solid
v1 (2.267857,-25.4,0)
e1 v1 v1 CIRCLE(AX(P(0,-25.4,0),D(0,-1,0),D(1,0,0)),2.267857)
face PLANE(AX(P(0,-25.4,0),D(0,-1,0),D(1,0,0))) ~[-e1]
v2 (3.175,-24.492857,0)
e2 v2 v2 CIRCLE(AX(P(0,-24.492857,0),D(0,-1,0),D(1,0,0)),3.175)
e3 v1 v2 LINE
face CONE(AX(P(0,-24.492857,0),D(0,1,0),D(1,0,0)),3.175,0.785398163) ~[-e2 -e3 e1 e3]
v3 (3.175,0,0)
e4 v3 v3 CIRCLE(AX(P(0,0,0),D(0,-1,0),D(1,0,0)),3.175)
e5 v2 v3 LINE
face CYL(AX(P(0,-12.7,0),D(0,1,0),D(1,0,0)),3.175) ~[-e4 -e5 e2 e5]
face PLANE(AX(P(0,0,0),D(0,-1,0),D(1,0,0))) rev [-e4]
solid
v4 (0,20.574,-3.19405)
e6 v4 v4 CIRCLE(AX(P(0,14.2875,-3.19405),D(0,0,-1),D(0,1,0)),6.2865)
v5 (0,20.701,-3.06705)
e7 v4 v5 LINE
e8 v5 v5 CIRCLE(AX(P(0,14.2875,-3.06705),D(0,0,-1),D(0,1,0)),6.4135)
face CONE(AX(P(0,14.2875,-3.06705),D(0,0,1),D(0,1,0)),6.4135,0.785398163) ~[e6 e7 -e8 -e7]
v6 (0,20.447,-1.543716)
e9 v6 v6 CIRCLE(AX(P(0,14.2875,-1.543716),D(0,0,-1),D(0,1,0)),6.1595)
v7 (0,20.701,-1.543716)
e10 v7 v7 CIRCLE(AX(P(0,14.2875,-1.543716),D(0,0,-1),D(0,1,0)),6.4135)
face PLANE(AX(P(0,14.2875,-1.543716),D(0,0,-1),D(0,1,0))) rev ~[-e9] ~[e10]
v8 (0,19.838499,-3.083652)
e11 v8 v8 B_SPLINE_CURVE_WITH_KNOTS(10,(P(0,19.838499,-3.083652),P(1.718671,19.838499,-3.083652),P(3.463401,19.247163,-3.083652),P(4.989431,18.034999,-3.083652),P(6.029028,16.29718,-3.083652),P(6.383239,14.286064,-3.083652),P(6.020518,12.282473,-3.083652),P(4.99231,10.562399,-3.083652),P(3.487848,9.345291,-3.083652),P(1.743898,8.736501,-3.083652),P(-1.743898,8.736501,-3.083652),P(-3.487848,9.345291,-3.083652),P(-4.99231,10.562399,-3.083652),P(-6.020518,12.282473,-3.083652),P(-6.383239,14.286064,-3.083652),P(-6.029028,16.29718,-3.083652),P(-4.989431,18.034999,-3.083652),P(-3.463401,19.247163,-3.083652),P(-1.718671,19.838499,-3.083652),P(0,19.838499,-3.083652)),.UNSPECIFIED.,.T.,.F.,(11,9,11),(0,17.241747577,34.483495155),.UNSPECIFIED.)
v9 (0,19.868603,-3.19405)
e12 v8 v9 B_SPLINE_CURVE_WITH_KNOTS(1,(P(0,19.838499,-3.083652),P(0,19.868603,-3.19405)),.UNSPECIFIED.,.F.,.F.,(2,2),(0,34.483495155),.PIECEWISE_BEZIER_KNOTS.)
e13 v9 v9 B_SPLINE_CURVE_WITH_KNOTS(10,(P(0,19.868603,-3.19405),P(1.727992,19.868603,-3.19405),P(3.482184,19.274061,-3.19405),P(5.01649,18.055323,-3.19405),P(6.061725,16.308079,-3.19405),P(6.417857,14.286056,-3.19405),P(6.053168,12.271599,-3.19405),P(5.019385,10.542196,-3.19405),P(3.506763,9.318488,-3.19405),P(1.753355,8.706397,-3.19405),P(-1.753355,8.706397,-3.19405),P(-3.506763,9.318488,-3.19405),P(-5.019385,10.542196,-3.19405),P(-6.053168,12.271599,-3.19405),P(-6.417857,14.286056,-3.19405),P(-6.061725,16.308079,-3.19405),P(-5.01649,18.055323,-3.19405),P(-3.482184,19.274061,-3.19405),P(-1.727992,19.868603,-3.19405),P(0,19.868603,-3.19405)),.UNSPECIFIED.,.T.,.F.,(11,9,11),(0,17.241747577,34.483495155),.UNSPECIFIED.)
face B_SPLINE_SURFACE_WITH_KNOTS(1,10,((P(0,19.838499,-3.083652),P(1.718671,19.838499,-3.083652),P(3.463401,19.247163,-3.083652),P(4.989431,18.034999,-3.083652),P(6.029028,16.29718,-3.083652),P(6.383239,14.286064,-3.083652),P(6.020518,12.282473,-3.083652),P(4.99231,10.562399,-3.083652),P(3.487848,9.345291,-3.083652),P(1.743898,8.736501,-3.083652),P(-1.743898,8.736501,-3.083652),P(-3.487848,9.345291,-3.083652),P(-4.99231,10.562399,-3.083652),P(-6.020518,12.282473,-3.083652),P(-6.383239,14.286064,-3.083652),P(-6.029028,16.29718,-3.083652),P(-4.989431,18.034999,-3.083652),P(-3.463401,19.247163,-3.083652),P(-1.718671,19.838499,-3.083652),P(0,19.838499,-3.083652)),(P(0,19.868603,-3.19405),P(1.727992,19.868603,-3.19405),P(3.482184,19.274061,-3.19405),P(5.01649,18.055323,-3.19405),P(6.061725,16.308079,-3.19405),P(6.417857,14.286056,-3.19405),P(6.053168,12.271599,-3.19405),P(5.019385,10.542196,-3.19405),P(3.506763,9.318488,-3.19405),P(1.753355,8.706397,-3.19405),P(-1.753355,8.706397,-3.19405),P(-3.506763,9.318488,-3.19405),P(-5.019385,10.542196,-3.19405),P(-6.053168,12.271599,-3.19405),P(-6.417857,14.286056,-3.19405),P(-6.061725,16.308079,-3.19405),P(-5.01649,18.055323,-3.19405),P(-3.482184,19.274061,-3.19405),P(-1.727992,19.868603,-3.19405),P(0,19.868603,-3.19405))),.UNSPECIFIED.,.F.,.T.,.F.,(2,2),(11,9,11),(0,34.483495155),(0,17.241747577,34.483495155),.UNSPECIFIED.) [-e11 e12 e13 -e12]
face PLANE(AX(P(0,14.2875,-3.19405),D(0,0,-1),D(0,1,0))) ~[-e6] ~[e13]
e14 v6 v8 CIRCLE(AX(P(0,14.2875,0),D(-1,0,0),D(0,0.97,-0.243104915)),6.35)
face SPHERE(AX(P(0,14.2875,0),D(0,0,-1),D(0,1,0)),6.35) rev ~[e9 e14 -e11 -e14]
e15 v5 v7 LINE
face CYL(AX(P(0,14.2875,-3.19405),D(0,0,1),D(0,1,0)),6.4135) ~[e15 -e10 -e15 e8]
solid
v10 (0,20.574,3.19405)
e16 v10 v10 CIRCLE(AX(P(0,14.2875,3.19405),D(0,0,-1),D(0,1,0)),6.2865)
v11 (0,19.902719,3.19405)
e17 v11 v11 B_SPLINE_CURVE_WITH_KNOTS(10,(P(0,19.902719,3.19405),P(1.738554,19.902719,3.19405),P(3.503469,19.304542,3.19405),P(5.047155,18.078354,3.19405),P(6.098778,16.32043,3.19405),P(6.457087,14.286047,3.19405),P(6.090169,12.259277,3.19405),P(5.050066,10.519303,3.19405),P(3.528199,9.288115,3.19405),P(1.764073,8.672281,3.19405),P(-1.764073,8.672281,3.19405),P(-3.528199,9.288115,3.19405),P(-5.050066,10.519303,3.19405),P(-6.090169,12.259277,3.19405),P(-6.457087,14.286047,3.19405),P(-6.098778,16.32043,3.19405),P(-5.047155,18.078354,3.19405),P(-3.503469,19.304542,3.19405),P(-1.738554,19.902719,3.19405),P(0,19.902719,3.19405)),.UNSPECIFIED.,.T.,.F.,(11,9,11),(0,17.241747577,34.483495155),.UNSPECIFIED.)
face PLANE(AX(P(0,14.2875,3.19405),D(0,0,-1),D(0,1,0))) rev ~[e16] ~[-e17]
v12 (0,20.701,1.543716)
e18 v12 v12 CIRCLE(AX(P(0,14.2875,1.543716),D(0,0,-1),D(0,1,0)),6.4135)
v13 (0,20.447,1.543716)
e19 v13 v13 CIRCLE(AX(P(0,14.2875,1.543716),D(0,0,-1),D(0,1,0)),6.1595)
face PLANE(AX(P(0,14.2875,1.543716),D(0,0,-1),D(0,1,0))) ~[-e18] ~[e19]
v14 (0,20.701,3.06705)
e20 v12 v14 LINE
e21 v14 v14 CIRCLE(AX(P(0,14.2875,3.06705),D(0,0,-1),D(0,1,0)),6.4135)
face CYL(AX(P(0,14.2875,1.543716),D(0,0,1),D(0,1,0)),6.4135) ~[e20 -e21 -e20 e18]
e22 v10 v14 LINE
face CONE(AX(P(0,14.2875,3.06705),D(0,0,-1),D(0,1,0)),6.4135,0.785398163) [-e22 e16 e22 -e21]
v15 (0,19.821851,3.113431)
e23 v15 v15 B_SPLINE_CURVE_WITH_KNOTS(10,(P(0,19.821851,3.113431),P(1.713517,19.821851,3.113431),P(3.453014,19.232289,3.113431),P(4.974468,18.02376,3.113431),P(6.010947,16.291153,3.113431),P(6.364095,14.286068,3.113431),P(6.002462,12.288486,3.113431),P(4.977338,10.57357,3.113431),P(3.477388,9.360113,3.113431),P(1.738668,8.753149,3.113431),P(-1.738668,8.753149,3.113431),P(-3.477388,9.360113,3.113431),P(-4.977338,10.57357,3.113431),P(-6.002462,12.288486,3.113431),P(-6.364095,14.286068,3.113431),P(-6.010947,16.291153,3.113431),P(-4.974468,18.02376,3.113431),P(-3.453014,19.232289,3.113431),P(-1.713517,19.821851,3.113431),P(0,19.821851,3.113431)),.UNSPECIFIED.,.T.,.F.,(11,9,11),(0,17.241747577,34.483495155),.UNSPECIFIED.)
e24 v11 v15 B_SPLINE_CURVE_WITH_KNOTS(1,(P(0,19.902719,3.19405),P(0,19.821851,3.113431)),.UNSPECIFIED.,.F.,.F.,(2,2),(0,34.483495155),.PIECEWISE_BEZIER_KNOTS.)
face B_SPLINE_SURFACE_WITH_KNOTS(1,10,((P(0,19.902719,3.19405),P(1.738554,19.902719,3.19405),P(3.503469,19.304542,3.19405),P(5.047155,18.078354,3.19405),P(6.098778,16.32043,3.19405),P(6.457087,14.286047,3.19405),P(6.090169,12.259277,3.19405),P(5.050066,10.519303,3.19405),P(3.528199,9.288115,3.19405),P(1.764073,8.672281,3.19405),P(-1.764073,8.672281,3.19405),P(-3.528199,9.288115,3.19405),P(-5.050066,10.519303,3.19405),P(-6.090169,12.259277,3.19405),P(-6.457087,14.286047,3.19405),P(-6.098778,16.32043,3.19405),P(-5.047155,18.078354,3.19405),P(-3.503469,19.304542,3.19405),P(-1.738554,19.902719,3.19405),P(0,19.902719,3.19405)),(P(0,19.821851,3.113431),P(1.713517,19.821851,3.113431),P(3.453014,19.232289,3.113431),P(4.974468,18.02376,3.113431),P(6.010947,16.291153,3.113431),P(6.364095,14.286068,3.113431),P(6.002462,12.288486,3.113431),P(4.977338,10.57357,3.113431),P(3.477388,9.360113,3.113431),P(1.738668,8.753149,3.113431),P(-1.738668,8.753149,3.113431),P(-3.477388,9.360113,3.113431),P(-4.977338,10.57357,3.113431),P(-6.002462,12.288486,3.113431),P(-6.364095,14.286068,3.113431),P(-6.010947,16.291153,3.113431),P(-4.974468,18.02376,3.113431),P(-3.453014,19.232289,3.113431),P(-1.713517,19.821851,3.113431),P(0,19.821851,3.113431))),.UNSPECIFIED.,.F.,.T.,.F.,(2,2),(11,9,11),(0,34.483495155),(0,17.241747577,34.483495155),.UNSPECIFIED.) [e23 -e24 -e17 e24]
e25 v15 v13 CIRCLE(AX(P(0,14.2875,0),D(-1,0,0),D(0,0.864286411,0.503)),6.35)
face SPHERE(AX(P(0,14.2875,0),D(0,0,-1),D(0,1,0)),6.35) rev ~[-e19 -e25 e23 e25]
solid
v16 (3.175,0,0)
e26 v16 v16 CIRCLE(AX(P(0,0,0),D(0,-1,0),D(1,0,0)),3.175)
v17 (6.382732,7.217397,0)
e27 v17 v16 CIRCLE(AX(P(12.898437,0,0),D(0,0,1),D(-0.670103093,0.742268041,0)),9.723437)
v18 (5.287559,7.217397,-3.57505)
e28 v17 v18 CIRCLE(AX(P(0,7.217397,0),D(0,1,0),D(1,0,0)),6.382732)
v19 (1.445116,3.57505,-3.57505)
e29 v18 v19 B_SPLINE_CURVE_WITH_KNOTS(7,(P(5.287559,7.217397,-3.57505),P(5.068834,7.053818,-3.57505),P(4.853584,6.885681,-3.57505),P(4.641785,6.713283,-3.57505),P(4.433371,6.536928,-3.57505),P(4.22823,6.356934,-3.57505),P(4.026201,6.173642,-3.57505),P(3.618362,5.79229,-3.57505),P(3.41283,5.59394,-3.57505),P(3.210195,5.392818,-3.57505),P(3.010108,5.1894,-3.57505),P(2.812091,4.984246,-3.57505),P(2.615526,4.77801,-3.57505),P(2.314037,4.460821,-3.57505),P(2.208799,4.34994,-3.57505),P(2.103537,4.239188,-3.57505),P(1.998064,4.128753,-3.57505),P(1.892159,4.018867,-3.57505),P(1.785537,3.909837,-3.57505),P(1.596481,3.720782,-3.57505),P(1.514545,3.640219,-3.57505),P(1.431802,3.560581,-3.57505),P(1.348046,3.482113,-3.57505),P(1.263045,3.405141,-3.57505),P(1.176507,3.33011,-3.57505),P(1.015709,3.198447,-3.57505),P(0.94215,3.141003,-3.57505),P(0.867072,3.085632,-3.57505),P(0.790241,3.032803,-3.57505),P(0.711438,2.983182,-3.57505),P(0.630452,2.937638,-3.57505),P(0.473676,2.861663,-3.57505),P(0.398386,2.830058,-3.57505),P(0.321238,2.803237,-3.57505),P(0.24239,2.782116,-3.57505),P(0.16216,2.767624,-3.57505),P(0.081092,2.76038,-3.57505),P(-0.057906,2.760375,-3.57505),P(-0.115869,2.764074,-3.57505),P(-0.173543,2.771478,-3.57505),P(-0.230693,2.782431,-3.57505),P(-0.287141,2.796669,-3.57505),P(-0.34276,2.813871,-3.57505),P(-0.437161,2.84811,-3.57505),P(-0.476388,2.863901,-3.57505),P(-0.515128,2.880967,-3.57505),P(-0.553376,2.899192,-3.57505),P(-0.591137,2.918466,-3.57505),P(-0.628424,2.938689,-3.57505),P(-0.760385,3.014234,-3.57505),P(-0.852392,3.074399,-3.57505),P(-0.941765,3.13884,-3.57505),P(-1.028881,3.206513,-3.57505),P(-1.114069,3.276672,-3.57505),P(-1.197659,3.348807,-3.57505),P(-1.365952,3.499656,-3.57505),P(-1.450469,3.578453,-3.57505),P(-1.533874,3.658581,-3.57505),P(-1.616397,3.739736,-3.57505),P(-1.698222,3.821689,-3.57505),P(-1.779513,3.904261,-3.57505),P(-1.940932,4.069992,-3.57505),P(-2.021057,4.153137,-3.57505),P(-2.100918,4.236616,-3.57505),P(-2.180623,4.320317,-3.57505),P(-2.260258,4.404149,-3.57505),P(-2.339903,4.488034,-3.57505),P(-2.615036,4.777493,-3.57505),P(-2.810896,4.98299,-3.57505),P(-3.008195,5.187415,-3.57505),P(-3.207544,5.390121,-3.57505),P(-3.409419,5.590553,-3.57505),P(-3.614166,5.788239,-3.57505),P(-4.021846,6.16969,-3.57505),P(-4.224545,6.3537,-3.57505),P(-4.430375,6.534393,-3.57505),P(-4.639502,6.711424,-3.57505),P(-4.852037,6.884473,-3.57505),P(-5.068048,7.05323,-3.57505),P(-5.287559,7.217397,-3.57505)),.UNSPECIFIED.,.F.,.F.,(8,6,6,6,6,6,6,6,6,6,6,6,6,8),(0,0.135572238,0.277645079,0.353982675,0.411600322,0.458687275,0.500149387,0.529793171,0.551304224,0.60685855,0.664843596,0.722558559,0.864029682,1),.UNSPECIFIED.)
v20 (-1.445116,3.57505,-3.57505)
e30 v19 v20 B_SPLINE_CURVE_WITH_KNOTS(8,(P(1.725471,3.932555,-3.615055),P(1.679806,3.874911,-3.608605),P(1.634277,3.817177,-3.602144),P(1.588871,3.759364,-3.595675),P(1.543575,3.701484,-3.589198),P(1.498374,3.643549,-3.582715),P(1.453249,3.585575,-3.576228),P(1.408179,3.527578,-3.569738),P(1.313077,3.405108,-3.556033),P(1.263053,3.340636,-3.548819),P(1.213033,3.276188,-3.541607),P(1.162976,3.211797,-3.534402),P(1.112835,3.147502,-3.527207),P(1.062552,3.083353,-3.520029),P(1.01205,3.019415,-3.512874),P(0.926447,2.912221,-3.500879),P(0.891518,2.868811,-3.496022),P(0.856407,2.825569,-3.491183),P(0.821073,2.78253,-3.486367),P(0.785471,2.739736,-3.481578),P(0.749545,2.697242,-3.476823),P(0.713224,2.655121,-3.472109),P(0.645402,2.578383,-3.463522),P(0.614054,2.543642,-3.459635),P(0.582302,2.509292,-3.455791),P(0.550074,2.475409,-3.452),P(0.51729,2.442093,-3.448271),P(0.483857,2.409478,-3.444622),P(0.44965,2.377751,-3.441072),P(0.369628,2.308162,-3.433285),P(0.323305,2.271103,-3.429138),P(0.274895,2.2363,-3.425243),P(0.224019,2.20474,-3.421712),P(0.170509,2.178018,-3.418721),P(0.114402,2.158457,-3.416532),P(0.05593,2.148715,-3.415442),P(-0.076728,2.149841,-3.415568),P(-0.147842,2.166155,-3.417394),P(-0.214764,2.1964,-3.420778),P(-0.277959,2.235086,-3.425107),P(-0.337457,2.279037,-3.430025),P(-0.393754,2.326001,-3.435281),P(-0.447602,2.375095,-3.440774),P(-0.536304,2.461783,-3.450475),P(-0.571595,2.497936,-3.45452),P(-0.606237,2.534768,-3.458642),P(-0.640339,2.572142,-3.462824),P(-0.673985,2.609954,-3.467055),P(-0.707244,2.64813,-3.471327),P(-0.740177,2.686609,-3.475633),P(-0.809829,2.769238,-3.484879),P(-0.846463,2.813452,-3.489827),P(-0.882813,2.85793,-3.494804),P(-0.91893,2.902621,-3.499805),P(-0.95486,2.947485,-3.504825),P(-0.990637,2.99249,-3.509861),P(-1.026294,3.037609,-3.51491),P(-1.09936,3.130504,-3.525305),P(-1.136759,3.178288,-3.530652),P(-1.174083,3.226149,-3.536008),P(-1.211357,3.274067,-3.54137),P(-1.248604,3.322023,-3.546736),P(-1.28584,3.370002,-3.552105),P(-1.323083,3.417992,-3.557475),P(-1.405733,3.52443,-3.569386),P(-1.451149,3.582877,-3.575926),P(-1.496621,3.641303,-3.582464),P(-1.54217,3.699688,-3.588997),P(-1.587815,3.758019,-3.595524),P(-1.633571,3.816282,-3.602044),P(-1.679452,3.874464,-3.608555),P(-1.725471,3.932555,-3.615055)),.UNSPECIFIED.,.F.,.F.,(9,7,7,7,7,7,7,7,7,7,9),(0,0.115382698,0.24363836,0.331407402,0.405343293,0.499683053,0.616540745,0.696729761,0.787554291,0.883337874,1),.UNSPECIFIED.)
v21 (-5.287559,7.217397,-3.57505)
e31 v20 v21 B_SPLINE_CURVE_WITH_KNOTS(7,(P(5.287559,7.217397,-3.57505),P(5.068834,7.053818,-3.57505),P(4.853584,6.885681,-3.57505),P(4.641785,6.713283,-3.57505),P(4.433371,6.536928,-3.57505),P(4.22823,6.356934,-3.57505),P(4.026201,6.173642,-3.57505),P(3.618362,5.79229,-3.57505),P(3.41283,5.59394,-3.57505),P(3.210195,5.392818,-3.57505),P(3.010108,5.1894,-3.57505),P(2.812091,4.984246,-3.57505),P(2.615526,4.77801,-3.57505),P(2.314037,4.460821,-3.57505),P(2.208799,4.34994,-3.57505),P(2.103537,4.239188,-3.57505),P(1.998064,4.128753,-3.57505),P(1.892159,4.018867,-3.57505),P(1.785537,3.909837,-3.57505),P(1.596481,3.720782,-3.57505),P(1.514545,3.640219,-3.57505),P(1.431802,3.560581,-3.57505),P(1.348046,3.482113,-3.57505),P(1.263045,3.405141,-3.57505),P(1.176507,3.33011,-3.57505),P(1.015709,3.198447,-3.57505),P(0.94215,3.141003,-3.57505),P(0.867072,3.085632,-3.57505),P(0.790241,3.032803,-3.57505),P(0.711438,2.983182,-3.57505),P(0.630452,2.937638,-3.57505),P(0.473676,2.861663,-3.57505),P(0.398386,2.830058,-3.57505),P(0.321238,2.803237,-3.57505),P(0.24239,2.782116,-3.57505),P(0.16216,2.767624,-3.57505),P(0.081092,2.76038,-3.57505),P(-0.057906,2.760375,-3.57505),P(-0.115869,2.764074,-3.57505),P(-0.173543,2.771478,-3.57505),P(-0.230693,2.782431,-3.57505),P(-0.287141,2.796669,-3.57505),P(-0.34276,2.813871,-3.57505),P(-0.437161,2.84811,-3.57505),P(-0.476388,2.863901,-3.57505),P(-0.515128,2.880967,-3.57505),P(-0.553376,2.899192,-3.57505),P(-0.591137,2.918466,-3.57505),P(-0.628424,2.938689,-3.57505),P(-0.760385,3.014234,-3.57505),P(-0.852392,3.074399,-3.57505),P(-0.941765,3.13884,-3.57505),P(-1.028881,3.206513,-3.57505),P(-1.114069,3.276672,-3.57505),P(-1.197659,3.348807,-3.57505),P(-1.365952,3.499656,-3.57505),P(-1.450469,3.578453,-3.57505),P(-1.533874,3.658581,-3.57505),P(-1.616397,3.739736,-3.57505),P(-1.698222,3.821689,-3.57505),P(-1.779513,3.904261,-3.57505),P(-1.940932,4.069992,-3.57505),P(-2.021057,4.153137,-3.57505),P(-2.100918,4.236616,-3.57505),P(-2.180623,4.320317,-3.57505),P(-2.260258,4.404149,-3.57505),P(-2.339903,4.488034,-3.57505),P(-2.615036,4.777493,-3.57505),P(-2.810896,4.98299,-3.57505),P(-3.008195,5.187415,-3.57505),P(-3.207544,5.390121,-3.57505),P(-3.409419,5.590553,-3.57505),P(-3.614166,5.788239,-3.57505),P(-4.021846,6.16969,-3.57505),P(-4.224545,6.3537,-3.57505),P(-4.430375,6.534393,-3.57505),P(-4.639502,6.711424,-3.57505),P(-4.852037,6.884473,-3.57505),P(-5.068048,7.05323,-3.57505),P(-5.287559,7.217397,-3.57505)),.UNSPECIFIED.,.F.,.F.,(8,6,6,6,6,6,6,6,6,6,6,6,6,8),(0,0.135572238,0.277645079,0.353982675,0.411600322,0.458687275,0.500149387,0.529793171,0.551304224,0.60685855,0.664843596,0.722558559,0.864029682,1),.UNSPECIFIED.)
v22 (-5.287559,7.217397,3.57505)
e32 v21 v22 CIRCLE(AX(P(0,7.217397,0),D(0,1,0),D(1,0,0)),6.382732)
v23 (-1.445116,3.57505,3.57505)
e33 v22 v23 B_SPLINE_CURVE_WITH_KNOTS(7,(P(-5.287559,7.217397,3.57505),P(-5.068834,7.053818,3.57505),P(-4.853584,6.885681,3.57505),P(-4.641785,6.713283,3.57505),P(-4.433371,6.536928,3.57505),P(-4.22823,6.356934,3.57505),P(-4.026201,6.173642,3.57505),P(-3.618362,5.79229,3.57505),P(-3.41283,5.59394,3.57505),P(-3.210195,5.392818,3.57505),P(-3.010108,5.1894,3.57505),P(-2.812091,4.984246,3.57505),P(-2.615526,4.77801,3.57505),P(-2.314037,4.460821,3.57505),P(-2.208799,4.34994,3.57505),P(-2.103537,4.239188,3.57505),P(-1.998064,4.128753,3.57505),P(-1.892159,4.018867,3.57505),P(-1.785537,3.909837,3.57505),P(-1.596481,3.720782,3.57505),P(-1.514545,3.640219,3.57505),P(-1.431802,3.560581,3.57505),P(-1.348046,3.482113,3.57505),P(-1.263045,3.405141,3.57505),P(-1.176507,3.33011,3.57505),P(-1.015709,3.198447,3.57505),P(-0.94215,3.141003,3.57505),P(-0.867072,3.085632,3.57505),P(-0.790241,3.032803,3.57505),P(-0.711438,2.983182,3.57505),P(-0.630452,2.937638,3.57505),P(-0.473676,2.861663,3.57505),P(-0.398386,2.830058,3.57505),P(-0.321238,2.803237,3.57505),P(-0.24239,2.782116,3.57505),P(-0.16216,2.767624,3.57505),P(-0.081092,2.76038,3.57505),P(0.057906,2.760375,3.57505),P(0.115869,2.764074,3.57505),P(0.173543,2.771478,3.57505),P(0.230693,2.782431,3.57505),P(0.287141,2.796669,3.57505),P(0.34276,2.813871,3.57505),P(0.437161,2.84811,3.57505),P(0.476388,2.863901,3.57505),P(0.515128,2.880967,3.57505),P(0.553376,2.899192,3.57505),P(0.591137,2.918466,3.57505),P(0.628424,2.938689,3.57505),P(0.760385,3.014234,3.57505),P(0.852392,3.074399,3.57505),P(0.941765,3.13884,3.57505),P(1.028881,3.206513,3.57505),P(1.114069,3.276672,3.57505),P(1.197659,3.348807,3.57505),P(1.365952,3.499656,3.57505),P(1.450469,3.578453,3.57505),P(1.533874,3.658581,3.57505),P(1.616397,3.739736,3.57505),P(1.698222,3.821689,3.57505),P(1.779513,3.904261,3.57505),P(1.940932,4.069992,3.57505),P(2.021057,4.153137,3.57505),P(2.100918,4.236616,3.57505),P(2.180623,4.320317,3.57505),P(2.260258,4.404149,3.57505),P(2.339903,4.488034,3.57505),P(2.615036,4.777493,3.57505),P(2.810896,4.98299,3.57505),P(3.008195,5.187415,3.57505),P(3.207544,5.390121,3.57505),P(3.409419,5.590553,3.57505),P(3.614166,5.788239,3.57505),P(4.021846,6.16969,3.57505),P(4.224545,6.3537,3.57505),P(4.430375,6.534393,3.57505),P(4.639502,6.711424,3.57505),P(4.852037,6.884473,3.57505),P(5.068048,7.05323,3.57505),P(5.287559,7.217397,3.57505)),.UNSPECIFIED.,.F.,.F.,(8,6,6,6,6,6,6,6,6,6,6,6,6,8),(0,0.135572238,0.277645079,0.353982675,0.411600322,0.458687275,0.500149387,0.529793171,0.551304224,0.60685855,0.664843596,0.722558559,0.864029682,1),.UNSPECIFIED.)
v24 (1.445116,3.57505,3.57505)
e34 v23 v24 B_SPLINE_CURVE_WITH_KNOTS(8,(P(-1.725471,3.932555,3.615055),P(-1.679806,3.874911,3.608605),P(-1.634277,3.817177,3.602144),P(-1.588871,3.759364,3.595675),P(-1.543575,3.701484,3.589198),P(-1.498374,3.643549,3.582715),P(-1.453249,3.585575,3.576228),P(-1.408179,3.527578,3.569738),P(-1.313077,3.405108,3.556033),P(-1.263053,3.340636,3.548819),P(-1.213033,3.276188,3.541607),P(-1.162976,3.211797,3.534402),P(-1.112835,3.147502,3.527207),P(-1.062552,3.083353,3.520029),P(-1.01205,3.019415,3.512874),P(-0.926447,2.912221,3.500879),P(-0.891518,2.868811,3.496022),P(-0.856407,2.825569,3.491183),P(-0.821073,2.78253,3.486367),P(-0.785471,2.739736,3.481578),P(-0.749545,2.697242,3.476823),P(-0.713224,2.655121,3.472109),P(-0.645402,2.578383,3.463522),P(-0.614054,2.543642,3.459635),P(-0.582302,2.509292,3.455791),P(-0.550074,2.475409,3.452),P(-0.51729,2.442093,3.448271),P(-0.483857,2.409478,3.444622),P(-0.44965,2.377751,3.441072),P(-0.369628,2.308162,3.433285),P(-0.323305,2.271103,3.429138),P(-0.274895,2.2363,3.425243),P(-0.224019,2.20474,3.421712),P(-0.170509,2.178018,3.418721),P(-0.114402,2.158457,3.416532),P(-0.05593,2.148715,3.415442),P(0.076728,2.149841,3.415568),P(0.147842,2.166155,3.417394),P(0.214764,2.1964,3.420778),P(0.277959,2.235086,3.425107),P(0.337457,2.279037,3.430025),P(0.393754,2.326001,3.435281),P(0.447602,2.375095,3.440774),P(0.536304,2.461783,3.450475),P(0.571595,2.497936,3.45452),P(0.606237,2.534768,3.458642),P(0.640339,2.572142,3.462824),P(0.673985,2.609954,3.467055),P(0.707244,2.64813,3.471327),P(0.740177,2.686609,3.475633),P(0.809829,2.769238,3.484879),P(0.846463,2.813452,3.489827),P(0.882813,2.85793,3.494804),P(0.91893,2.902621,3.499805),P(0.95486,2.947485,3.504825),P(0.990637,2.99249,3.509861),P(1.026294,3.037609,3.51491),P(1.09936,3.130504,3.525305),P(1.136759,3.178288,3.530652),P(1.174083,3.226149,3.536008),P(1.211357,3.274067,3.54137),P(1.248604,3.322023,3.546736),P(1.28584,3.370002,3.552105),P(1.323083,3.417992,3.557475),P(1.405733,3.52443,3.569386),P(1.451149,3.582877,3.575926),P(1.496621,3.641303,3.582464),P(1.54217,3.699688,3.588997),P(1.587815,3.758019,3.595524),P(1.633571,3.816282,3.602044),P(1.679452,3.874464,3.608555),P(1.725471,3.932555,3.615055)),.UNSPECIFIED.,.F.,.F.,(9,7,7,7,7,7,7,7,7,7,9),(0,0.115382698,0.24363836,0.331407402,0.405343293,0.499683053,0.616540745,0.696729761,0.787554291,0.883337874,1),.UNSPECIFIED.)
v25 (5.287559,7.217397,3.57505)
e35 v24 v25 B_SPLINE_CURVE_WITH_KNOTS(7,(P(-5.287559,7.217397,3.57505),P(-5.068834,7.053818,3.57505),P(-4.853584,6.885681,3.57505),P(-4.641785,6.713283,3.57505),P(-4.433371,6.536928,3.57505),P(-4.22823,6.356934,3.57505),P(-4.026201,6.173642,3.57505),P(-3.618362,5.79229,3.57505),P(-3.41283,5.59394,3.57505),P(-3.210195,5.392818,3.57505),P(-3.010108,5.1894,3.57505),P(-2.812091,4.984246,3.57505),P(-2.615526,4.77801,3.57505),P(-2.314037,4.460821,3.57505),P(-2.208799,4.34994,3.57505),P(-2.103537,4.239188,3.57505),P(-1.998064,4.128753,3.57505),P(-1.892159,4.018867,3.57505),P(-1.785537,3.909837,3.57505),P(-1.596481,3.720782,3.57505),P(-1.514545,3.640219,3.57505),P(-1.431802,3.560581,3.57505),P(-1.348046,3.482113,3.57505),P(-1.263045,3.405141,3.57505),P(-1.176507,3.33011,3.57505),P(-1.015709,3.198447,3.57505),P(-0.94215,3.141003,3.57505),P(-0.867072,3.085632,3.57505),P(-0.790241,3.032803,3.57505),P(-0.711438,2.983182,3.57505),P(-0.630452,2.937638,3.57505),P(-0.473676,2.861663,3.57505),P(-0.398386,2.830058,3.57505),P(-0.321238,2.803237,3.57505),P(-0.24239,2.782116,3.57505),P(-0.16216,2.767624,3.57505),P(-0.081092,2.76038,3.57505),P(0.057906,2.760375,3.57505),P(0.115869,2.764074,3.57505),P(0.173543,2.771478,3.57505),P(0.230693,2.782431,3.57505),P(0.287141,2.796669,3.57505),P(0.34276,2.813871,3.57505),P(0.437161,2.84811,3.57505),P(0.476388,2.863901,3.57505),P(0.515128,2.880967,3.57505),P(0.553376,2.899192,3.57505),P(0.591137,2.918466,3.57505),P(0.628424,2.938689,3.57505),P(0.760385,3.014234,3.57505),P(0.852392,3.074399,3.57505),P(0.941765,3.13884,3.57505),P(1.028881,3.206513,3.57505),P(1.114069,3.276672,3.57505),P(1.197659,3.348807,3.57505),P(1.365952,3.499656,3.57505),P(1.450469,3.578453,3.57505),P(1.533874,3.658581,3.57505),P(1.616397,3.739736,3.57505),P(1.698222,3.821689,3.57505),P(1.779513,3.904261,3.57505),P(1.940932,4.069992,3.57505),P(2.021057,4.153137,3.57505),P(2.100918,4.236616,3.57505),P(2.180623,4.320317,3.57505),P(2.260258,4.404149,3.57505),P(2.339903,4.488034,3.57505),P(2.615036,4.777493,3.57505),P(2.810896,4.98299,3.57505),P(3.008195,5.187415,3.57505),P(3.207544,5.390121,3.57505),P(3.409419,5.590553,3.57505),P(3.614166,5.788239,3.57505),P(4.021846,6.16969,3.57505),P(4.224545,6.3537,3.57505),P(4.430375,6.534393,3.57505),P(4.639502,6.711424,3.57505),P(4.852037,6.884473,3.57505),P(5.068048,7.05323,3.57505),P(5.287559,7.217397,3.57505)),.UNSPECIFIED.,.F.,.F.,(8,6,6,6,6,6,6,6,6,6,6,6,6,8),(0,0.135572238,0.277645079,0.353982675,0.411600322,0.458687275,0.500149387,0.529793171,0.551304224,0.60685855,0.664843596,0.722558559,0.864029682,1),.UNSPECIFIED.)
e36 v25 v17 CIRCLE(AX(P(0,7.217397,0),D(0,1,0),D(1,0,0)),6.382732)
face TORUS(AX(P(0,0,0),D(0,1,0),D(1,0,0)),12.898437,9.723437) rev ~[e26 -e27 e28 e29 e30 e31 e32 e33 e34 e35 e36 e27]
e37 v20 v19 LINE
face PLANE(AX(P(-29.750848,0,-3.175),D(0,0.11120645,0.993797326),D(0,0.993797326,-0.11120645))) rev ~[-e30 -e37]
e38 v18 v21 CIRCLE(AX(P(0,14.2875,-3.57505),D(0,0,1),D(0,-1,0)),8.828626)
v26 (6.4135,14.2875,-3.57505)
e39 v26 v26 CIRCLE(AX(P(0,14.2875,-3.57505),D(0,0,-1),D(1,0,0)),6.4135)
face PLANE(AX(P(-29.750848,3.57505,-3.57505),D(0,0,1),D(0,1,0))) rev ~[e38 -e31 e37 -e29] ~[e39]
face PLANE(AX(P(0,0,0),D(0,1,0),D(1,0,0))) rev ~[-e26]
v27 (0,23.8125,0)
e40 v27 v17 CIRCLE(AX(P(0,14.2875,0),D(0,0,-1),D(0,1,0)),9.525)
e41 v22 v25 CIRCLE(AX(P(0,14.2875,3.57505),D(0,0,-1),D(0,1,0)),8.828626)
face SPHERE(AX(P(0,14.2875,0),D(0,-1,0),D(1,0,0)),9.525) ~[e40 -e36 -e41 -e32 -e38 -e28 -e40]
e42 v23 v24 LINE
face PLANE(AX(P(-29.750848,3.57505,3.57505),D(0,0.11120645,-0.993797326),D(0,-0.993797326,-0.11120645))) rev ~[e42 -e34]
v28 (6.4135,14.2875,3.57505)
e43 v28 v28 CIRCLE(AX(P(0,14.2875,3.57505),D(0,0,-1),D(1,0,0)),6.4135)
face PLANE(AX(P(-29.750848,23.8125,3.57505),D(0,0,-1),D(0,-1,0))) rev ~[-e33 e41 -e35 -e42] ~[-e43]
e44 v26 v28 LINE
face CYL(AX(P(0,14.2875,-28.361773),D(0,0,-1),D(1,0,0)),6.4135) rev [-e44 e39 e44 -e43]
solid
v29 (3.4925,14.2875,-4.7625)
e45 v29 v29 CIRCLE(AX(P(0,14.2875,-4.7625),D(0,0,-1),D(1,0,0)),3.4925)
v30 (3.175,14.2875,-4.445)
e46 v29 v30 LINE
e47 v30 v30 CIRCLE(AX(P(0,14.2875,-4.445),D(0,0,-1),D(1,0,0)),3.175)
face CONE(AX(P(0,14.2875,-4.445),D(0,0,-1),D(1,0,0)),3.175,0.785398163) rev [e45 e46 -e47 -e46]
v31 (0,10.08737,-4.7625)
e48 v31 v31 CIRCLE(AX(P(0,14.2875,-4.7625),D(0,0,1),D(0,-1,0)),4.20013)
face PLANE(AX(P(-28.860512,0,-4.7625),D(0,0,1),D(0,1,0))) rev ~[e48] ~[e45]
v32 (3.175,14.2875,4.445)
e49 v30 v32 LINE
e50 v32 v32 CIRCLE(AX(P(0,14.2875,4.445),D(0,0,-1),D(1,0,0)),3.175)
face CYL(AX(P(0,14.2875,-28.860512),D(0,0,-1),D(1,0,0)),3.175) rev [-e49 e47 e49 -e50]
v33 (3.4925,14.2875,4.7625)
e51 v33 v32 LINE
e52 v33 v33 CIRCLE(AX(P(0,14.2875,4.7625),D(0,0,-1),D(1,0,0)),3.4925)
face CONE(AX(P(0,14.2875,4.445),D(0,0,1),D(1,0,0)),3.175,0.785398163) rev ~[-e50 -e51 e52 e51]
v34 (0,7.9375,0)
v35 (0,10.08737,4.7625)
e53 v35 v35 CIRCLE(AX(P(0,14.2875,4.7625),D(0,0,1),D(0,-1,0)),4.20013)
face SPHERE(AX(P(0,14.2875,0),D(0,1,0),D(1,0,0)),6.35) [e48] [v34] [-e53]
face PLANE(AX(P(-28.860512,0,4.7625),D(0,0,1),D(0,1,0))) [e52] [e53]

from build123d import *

# Parameters (mm, degrees)
SKETCH1_W               = 3.175
SKETCH1_H               = 25.4
CHAMFER2_SIZE           = 0.907142857
CUT_EXTRUDE1_DEPTH      = 29.750847814
CUT_EXTRUDE1_DEPTH_BACK = 29.750847814
CUT_EXTRUDE2_DEPTH      = 28.361772754
CUT_EXTRUDE2_DEPTH_BACK = 28.361772754
SKETCH6_R               = 6.4135
CUT_EXTRUDE3_DEPTH      = 28.86051193
CUT_EXTRUDE3_DEPTH_BACK = 28.86051193
SKETCH8_W               = 4.7625
SKETCH8_H               = 23.8125
CUT_EXTRUDE4_DEPTH      = 28.86051193
CUT_EXTRUDE4_DEPTH_BACK = 28.86051193
SKETCH10_R              = 3.175
CHAMFER1_SIZE           = 0.3175
CHAMFER3_SIZE           = 0.127
CHAMFER3_PART_2_SIZE    = 0.127
CHAMFER3_PART_2_SIZE2   = 0.092884709
CHAMFER4_SIZE           = 0.127
CHAMFER4_SIZE2          = 0.092884709
CHAMFER4_PART_2_SIZE    = 0.127


with BuildPart() as part:
    # Sketch1 → Revolve1 (revolve)
    with BuildSketch(Plane.XY):
        with Locations((1.5875, -12.7)):
            Rectangle(SKETCH1_W, SKETCH1_H)
    revolve(axis=Axis((0, 23.8125, 0), (0, -1, 0)))

    # Chamfer2
    chamfer2_edges = [part.edges().sort_by_distance(p)[0] for p in [
        (-3.175, -25.4, 0),
    ]]
    chamfer(chamfer2_edges, length=CHAMFER2_SIZE)


with BuildPart() as body_2:
    # Sketch4 → Revolve2 (revolve)
    with BuildSketch(Plane.XY):
        with BuildLine():
            Line((3.175, 0), (0, 0))
            Line((0, 0), (0, 23.8125))
            ThreePointArc((0, 23.8125), (8.890116899, 17.70677573), (6.382731959, 7.217396907))
            ThreePointArc((6.382731959, 7.217396907), (4.01304802, 3.949061991), (3.175, 0))
        make_face()
    revolve(axis=Axis((0, 23.8125, 0), (0, 1, 0)))

    # Sketch5 → Cut-Extrude1 (cut, two sides: drawn at the far end of the back side and taken through both)
    with BuildSketch(Plane(origin=(0, 0, 0), x_dir=(0, 0, -1), z_dir=(1, 0, 0)).offset(-CUT_EXTRUDE1_DEPTH_BACK)):
        Polygon((3.57505, 23.8125), (9.525, 23.8125), (9.525, 0), (3.175, 0), (3.57505, 3.57505), align=None)
        Polygon((-3.57505, 23.8125), (-3.57505, 3.57505), (-3.175, 0), (-9.525, 0), (-9.525, 23.8125), align=None)
    extrude(amount=CUT_EXTRUDE1_DEPTH + CUT_EXTRUDE1_DEPTH_BACK, mode=Mode.SUBTRACT)

    # Sketch6 → Cut-Extrude2 (cut, two sides: drawn at the far end of the back side and taken through both)
    with BuildSketch(Plane.XY.offset(-CUT_EXTRUDE2_DEPTH_BACK)):
        with Locations((0, 14.2875)):
            Circle(SKETCH6_R)
    extrude(amount=CUT_EXTRUDE2_DEPTH + CUT_EXTRUDE2_DEPTH_BACK, mode=Mode.SUBTRACT)


with BuildPart() as body_3:
    # Sketch7 → Revolve3 (revolve)
    with BuildSketch(Plane.XY):
        with BuildLine():
            Line((0, 20.6375), (0, 7.9375))
            ThreePointArc((0, 7.9375), (6.35, 14.2875), (0, 20.6375))
        make_face()
    revolve(axis=Axis((0, 0, 0), (0, 1, 0)))

    # Sketch8 → Cut-Extrude3 (cut, two sides: drawn at the far end of the back side and taken through both)
    with BuildSketch(Plane(origin=(0, 0, 0), x_dir=(0, 0, -1), z_dir=(1, 0, 0)).offset(-CUT_EXTRUDE3_DEPTH_BACK)):
        with Locations((-7.14375, 11.90625)):
            Rectangle(SKETCH8_W, SKETCH8_H)
        with Locations((7.14375, 11.90625)):
            Rectangle(SKETCH8_W, SKETCH8_H)
    extrude(amount=CUT_EXTRUDE3_DEPTH + CUT_EXTRUDE3_DEPTH_BACK, mode=Mode.SUBTRACT)

    # Sketch10 → Cut-Extrude4 (cut, two sides: drawn at the far end of the back side and taken through both)
    with BuildSketch(Plane.XY.offset(-CUT_EXTRUDE4_DEPTH_BACK)):
        with Locations((0, 14.2875)):
            Circle(SKETCH10_R)
    extrude(amount=CUT_EXTRUDE4_DEPTH + CUT_EXTRUDE4_DEPTH_BACK, mode=Mode.SUBTRACT)

    # Chamfer1
    chamfer1_edges = [body_3.edges().sort_by_distance(p)[0] for p in [
        (-3.175, 14.2875, -4.7625),
        (-3.175, 14.2875, 4.7625),
    ]]
    chamfer(chamfer1_edges, length=CHAMFER1_SIZE)


with BuildPart() as body_4:
    # Sketch14 → Revolve4 (revolve)
    with BuildSketch(Plane(origin=(0, 0, 0), x_dir=(0, 0, -1), z_dir=(1, 0, 0))):
        with BuildLine():
            Line((-3.19405, 20.701), (-3.19405, 19.775718709))
            ThreePointArc((-3.19405, 19.775718709), (-2.392542961, 20.169526707), (-1.543716214, 20.447))
            Line((-1.543716214, 20.447), (-1.543716214, 20.701))
            Line((-1.543716214, 20.701), (-3.19405, 20.701))
        make_face()
        with BuildLine():
            Line((3.19405, 19.775718709), (3.19405, 20.701))
            Line((3.19405, 20.701), (1.543716214, 20.701))
            Line((1.543716214, 20.701), (1.543716214, 20.447))
            ThreePointArc((1.543716214, 20.447), (2.392542961, 20.169526707), (3.19405, 19.775718709))
        make_face()
    revolve(axis=Axis((0, 14.2875, 4.7625), (0, 0, -1)))

    # Chamfer3
    chamfer3_edges = [body_4.edges().sort_by_distance(p)[0] for p in [
        (0, 7.874, 3.19405),
    ]]
    chamfer(chamfer3_edges, length=CHAMFER3_SIZE)

    # Chamfer3 part 2
    chamfer3_part_2_edges = [body_4.edges().sort_by_distance(p)[0] for p in [
        (0, 8.799281291, 3.19405),
    ]]
    chamfer3_part_2_side = [body_4.faces().sort_by_distance(p)[0] for p in [
        (0, 8.055401174, 3.19405),
    ]]
    chamfer(chamfer3_part_2_edges, length=CHAMFER3_PART_2_SIZE, length2=CHAMFER3_PART_2_SIZE2, reference=chamfer3_part_2_side[0])

    # Chamfer4
    chamfer4_edges = [body_4.edges().sort_by_distance(p)[0] for p in [
        (0, 8.799281291, -3.19405),
    ]]
    chamfer4_side = [body_4.faces().sort_by_distance(p)[0] for p in [
        (0, 8.405473293, -2.392542961),
    ]]
    chamfer(chamfer4_edges, length=CHAMFER4_SIZE, length2=CHAMFER4_SIZE2, reference=chamfer4_side[0])

    # Chamfer4 part 2
    chamfer4_part_2_edges = [body_4.edges().sort_by_distance(p)[0] for p in [
        (0, 7.874, -3.19405),
    ]]
    chamfer(chamfer4_part_2_edges, length=CHAMFER4_PART_2_SIZE)


solid = Compound([part.part, body_2.part, body_3.part, body_4.part])
